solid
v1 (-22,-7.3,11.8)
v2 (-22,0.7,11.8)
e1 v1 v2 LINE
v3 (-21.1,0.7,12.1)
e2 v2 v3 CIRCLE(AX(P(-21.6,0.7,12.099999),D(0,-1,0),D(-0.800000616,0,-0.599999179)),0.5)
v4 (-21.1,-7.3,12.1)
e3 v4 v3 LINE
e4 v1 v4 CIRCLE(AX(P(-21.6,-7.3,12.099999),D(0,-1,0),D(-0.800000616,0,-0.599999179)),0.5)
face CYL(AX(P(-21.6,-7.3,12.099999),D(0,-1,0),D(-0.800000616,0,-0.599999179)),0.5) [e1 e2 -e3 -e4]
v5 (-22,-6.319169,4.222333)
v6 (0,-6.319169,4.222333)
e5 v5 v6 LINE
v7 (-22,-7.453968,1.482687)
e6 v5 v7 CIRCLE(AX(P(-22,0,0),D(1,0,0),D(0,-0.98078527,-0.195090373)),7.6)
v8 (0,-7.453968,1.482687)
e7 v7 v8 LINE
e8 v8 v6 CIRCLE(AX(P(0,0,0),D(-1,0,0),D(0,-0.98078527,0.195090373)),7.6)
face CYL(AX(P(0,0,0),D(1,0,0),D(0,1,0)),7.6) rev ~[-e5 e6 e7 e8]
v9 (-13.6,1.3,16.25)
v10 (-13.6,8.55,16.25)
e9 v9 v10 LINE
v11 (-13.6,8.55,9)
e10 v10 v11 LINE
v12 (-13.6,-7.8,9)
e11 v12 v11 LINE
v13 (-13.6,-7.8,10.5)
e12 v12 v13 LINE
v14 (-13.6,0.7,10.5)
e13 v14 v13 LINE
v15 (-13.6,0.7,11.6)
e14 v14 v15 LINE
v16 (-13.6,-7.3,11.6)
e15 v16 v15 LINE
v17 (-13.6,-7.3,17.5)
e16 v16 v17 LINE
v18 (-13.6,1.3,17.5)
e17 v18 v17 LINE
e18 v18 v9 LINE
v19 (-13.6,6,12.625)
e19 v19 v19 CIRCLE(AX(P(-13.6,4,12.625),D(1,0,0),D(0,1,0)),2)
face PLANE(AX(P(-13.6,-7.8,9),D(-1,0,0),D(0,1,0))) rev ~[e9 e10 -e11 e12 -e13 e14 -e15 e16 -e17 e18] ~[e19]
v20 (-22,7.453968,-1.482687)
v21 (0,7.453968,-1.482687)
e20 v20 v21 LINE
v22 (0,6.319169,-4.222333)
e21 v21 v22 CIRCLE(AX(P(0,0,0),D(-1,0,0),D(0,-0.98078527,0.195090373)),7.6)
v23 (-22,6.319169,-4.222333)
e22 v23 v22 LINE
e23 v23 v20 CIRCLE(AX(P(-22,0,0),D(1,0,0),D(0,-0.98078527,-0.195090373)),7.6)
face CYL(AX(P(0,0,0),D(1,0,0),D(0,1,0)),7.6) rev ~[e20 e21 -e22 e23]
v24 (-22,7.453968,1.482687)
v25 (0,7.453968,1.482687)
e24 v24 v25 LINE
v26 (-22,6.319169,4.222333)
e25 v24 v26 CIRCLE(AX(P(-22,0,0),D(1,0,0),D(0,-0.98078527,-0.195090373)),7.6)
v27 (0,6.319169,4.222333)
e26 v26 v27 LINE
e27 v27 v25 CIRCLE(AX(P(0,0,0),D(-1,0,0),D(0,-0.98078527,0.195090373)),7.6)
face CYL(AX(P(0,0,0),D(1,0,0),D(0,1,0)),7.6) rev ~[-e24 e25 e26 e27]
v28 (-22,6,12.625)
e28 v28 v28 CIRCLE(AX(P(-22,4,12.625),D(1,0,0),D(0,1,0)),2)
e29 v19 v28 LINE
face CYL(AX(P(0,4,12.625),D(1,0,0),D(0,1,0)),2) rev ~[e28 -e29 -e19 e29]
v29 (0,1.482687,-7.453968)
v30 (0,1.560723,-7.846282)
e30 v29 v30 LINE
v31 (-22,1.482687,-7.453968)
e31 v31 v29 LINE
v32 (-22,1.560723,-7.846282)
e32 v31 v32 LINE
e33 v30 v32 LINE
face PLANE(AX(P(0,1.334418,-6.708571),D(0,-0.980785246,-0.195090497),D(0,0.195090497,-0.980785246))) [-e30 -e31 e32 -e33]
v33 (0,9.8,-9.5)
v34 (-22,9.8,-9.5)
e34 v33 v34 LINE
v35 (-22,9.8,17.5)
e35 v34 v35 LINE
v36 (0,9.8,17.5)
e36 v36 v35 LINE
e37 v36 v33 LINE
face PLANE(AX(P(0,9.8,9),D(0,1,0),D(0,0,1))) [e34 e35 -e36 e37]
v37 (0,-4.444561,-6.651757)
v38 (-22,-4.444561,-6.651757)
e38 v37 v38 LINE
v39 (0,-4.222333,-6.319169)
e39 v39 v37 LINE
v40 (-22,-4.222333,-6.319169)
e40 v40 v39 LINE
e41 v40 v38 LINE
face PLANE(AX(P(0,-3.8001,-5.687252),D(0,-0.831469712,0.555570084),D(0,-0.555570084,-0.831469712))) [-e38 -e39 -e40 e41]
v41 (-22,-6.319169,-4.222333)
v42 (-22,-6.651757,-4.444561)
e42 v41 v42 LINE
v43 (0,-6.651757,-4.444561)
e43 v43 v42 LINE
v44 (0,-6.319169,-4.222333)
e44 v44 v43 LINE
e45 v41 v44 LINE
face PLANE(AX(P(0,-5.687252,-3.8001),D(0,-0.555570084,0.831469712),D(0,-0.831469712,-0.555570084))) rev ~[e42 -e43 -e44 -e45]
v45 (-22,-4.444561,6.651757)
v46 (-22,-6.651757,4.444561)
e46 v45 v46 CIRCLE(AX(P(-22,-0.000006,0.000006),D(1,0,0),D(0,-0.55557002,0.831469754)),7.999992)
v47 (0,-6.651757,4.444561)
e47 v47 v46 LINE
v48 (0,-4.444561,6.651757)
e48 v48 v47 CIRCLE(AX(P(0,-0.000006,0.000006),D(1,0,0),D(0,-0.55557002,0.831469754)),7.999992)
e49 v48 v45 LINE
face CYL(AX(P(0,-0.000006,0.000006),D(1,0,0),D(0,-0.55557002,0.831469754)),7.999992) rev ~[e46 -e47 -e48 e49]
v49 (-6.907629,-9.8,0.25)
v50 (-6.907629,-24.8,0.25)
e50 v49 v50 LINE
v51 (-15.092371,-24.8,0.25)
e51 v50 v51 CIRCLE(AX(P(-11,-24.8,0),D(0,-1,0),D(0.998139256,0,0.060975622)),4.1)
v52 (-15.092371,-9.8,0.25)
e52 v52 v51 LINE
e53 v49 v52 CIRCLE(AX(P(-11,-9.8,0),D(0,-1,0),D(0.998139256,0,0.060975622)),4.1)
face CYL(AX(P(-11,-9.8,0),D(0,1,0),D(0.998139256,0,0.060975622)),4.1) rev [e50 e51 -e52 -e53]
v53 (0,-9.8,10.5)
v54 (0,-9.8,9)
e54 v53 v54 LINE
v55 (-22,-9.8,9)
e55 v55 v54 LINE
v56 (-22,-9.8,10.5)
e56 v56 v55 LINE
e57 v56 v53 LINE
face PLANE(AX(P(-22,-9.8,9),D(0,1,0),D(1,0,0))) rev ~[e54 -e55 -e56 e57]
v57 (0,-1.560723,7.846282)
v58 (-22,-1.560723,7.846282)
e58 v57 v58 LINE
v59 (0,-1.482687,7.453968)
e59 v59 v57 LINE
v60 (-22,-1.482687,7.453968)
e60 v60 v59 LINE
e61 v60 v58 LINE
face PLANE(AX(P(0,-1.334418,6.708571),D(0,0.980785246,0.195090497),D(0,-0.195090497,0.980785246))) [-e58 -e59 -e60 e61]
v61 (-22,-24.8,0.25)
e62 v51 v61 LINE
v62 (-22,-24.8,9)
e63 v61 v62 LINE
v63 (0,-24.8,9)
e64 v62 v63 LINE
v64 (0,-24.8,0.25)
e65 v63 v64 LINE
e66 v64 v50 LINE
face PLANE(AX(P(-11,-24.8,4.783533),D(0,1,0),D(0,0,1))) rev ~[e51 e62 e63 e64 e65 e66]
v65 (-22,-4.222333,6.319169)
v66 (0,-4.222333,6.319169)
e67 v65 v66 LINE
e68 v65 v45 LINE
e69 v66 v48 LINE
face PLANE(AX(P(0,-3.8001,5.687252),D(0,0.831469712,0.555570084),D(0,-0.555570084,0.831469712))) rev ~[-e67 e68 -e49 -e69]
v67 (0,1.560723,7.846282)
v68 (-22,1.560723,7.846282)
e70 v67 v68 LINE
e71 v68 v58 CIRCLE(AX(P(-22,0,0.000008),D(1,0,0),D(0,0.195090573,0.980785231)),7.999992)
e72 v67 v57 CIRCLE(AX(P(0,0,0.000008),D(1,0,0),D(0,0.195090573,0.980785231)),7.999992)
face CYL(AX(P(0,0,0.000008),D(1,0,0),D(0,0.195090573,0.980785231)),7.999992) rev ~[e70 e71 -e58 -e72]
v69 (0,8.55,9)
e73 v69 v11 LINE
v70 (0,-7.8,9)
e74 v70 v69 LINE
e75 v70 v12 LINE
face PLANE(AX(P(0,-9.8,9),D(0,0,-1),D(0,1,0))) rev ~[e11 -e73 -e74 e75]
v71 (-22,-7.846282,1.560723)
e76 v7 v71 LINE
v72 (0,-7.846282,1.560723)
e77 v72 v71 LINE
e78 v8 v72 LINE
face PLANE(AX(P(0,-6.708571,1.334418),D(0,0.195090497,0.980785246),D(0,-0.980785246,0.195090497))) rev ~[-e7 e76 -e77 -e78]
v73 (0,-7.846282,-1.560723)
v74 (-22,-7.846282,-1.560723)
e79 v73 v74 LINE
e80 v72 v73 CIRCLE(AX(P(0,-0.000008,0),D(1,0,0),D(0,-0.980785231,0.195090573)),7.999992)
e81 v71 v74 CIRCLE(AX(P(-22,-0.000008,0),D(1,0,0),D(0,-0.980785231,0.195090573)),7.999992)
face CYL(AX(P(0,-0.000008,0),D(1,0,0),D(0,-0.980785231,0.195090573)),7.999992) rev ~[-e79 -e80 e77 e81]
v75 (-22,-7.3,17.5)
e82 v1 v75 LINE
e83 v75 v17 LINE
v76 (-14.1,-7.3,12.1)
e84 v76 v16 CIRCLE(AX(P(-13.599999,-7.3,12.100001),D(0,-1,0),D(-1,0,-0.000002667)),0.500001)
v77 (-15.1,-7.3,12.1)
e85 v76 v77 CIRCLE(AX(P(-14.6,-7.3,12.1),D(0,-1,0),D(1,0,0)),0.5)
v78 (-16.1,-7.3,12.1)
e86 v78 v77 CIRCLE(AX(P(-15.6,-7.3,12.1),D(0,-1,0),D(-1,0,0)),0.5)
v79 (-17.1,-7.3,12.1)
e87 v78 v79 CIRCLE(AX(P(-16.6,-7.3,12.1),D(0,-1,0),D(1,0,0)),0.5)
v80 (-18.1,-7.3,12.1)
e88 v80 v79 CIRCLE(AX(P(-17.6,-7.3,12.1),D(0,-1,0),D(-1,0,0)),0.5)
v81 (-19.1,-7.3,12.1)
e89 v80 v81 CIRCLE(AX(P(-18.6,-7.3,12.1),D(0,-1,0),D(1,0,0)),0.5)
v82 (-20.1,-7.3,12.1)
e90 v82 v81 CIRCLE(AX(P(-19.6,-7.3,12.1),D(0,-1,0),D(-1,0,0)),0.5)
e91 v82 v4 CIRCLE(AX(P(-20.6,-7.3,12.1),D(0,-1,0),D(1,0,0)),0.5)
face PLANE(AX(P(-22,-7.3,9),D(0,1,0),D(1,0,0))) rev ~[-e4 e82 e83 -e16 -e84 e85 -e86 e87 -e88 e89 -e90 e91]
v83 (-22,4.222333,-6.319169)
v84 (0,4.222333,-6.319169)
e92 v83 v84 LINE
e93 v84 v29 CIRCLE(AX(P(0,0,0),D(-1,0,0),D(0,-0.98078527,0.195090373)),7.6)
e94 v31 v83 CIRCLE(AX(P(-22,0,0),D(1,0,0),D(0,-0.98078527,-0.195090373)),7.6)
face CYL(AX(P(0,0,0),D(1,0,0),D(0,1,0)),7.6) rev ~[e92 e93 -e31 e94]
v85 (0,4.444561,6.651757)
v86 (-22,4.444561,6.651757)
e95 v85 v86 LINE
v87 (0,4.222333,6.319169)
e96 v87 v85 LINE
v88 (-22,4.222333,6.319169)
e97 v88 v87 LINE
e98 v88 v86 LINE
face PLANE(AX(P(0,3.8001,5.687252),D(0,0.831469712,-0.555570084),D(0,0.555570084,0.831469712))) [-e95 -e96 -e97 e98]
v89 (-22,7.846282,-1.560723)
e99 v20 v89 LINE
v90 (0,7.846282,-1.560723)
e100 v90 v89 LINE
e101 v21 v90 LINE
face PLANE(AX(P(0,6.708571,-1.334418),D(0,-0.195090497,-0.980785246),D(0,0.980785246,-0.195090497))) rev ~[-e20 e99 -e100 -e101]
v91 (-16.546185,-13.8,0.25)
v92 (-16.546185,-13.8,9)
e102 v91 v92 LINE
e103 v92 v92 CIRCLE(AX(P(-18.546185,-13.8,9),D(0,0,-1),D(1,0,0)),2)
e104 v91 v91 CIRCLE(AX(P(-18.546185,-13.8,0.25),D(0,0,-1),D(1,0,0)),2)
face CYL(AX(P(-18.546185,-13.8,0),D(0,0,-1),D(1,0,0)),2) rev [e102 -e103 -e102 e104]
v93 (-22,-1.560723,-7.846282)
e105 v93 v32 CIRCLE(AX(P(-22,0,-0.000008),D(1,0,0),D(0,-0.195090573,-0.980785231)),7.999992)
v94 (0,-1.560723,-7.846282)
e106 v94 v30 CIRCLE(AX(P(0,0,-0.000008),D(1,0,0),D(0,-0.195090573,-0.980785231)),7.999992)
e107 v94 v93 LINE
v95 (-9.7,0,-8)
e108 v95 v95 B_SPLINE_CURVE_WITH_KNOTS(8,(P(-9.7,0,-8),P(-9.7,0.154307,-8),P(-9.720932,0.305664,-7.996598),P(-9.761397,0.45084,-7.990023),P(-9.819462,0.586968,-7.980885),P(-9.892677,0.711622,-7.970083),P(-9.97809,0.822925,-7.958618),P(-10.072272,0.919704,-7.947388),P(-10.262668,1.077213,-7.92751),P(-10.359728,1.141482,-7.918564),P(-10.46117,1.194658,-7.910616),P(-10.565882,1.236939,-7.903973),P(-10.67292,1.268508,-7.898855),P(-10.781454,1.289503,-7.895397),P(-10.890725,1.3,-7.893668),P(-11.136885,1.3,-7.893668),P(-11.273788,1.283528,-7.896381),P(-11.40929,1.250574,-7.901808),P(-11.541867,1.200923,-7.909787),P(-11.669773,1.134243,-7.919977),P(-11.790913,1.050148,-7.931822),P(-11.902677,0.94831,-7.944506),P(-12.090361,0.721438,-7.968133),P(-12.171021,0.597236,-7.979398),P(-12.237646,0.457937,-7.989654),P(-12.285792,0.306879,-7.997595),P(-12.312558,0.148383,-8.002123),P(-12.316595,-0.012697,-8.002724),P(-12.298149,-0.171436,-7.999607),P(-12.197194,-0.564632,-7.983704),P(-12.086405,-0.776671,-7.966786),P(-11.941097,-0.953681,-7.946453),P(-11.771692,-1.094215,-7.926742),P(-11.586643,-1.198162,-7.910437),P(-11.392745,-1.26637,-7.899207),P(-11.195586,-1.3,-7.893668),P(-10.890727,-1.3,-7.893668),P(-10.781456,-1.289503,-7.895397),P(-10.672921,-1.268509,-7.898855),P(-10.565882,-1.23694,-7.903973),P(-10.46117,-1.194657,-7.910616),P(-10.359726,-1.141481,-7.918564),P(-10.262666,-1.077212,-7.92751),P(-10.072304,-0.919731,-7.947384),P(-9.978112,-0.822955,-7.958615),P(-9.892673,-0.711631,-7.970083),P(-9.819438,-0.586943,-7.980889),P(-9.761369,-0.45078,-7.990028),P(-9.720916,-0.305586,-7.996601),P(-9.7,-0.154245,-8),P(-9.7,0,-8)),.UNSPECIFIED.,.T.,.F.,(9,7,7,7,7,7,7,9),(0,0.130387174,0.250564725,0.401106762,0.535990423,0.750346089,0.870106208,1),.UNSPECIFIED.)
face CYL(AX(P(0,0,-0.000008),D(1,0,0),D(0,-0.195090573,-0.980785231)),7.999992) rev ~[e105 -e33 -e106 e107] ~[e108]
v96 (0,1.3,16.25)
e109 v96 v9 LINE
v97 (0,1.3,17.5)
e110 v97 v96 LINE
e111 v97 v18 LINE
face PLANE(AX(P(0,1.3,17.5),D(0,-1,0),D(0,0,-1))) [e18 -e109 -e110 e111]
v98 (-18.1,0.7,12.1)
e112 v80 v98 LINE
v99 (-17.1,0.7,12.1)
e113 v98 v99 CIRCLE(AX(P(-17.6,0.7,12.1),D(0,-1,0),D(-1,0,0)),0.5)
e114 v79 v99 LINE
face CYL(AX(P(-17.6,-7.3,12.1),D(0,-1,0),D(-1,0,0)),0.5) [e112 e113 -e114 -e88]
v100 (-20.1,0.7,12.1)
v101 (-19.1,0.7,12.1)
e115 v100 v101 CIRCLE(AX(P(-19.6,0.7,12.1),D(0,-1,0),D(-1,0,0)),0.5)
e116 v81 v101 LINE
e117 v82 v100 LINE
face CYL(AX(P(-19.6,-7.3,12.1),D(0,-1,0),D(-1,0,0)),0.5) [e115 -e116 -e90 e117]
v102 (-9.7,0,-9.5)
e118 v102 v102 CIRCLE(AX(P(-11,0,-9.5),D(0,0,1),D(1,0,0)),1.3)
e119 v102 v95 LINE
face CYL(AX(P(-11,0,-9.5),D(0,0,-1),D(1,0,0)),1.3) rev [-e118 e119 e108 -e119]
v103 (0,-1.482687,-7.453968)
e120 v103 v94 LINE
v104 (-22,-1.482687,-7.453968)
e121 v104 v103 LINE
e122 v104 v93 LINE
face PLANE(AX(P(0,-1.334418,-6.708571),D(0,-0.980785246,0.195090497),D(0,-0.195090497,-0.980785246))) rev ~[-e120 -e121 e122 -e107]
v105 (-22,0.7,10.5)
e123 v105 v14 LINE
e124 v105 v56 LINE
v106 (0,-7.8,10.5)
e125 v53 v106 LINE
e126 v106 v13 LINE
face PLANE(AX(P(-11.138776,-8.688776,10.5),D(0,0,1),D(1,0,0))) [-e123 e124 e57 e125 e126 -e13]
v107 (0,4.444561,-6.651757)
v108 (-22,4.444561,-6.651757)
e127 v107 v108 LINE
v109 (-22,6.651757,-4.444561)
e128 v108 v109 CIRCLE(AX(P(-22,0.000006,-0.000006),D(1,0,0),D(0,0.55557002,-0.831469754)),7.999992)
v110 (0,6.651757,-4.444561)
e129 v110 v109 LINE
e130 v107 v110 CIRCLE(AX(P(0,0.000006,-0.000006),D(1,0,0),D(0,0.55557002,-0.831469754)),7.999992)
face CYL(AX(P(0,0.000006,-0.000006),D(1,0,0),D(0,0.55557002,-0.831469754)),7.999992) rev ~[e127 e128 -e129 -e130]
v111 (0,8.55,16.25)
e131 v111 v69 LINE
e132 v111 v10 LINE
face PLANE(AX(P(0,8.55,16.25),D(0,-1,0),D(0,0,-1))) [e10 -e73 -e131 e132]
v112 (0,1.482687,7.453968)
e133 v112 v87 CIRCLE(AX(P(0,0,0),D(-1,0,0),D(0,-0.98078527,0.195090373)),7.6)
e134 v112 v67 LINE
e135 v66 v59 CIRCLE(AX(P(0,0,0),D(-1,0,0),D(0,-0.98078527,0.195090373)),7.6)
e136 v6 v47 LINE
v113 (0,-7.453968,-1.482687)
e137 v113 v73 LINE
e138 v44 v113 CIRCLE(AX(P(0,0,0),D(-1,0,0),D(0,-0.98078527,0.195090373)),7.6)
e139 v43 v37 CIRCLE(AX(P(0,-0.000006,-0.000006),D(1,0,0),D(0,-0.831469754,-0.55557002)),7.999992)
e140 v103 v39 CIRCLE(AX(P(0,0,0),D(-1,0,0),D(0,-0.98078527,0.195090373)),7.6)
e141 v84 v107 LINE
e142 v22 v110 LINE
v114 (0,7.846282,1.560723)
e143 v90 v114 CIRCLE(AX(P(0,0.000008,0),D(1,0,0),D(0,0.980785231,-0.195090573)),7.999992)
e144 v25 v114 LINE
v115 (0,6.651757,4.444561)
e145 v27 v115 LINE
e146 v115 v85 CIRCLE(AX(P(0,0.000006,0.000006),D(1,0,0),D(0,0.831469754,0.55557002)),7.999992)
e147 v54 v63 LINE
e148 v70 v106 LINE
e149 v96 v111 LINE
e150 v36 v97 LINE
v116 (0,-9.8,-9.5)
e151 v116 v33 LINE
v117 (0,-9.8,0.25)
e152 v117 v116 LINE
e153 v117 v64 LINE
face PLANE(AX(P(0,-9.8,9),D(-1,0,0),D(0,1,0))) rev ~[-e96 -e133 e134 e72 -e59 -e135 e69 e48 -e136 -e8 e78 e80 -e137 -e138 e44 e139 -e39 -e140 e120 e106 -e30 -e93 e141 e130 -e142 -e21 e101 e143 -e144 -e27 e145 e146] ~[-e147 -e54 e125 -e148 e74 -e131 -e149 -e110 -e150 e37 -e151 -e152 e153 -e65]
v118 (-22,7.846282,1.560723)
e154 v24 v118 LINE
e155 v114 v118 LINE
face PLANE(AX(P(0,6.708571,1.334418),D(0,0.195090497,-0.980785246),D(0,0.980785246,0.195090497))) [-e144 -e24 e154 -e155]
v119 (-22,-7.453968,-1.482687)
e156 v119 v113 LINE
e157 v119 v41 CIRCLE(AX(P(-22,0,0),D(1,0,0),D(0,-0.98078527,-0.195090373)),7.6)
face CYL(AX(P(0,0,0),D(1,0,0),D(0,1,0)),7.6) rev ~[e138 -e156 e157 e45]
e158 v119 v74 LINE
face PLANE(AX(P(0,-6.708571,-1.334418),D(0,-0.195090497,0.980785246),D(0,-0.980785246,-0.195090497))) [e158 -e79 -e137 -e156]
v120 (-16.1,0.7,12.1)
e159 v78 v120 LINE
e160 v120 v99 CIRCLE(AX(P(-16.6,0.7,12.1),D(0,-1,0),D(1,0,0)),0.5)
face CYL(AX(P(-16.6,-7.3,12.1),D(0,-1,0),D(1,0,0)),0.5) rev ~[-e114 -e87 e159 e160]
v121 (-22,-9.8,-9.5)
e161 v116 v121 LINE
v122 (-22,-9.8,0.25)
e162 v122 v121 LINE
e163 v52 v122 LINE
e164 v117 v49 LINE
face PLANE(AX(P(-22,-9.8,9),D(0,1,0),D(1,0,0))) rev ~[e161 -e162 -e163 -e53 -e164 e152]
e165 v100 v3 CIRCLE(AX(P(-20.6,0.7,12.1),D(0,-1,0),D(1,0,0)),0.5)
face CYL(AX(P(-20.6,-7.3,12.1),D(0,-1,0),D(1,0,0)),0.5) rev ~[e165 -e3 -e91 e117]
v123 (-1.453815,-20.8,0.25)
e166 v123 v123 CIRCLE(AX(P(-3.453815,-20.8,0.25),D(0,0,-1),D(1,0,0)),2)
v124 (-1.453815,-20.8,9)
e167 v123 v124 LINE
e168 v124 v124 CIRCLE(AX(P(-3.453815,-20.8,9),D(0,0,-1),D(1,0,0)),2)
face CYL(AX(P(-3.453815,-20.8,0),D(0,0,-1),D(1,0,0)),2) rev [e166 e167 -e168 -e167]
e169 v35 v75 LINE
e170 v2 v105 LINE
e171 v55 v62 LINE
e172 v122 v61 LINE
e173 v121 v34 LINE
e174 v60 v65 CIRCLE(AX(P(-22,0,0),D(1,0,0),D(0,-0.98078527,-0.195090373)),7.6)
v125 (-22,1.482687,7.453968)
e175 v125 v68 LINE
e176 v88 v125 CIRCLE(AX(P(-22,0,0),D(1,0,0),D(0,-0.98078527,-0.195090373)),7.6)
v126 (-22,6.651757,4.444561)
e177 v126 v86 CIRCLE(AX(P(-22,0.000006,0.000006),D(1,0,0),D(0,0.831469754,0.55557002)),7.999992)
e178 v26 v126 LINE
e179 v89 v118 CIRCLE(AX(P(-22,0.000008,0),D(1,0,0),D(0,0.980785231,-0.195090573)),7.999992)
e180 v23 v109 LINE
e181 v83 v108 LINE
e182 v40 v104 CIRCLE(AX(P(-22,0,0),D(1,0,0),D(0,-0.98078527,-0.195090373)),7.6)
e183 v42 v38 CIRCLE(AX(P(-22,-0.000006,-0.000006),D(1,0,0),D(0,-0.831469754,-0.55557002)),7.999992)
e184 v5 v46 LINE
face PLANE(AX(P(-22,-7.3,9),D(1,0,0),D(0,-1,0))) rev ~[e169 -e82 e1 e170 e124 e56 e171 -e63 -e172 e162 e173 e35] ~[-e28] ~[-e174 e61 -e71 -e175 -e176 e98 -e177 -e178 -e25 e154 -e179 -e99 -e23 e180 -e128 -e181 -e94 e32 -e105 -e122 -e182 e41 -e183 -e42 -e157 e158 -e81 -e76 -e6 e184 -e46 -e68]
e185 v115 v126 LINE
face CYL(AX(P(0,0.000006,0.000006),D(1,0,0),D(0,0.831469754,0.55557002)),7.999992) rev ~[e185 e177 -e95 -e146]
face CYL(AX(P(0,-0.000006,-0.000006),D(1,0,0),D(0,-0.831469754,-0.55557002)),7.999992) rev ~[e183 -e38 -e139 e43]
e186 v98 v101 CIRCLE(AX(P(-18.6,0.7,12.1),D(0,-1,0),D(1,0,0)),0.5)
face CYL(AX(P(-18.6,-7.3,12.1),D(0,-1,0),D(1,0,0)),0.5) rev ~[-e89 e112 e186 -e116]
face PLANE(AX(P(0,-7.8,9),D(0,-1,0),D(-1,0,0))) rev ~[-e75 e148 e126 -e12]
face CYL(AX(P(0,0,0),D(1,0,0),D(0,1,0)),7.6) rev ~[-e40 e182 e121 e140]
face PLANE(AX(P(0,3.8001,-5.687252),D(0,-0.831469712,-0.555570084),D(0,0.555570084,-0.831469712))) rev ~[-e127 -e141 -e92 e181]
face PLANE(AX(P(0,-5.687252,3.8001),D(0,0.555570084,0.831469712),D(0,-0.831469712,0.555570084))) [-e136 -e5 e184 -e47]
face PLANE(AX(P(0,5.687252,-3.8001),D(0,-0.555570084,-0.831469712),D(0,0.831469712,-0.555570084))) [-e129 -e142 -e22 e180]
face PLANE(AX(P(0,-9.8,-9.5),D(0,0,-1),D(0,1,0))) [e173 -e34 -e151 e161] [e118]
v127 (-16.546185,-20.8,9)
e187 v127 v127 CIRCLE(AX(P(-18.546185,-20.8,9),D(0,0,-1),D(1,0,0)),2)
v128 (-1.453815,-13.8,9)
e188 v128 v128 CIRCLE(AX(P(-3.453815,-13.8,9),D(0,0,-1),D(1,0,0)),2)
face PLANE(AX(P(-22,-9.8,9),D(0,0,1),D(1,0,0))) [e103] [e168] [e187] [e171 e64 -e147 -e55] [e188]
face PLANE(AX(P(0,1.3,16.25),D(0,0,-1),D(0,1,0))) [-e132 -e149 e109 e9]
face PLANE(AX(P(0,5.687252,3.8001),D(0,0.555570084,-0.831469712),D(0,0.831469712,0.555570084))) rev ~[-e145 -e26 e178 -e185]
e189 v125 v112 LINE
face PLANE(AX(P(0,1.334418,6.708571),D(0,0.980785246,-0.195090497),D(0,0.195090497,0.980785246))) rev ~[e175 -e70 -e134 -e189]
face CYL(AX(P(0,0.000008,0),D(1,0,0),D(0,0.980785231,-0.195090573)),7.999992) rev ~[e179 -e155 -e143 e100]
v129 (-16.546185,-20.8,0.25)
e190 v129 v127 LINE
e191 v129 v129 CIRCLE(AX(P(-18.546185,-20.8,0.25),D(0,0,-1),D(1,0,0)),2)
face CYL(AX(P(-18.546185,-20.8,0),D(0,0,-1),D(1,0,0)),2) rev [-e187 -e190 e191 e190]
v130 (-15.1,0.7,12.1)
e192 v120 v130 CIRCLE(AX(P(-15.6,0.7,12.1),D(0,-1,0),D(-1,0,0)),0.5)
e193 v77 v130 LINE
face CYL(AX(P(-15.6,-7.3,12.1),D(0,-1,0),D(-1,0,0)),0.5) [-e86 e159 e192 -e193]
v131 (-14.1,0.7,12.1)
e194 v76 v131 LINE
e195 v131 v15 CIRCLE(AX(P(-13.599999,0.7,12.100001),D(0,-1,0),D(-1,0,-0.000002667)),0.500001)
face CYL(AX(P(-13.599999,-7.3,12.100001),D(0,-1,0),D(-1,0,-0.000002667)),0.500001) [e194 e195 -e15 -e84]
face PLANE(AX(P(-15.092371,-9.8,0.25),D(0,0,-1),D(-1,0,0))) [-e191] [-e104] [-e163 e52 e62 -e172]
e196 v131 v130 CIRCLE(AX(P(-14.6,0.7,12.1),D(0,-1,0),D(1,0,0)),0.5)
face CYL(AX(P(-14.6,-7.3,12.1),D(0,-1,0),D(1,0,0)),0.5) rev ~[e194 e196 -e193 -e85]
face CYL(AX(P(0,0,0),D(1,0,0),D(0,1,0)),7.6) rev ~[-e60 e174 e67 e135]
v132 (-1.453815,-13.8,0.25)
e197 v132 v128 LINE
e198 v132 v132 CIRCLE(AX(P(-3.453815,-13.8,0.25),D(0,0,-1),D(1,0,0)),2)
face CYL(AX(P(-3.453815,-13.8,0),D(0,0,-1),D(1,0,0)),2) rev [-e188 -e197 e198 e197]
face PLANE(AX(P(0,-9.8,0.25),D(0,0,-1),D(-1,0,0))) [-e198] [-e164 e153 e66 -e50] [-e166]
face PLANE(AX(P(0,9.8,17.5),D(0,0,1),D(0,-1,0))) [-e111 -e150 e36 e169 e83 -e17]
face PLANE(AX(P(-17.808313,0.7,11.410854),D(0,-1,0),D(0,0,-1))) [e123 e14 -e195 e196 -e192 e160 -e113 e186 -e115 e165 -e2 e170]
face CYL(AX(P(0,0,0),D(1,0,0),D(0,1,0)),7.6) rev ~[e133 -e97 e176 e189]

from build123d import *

# Parameters (mm, degrees)
PAD017_DEPTH       = 15
SKETCH040_R        = 2
POCKET019_DEPTH    = 9.001
SKETCH_W           = 19.6
SKETCH_H           = 18.5
SKETCH_R           = 7.6
PAD_DEPTH          = 22
SKETCH002_W        = 17.1
SKETCH002_H        = 8.4
PAD001_DEPTH       = 8.5
POCKET_DEPTH       = 8
PAD002_DEPTH       = 13.6
SKETCH005_R        = 2
POCKET001_DEPTH    = 22.001
POCKET002_DEPTH    = 101.929968
POLARPATTERN_COUNT = 8
PAD004_DEPTH       = 1.5
SKETCH041_R        = 1.3
POCKET020_DEPTH    = 5


with BuildPart() as body023:
    # Sketch039 (on DatumPlane) → Pad017 (new body)
    with BuildSketch(Plane(origin=(0, -9.8, 0), x_dir=(0, 0, -1), z_dir=(0, -1, 0))):
        with BuildLine():
            Line((-9, 0), (-0.25, 0))
            Line((-0.25, 0), (-0.25, -6.907629))
            ThreePointArc((-0.25, -6.907629), (-4.1, -11), (-0.25, -15.092371))
            Line((-0.25, -15.092371), (-0.25, -22))
            Line((-0.25, -22), (-9, -22))
            Line((-9, -22), (-9, 0))
        make_face()
    extrude(amount=PAD017_DEPTH)

    # Sketch040 → Pocket019 (cut, through all)
    with BuildSketch(Plane.XY):
        with Locations((-18.546185, -20.8)):
            Circle(SKETCH040_R)
        with Locations((-18.546185, -13.8)):
            Circle(SKETCH040_R)
        with Locations((-3.453815, -13.8)):
            Circle(SKETCH040_R)
        with Locations((-3.453815, -20.8)):
            Circle(SKETCH040_R)
    extrude(amount=POCKET019_DEPTH, mode=Mode.SUBTRACT)


with BuildPart() as printable_axisholder_x_fusion:
    # Sketch → Pad (new body)
    with BuildSketch(Plane.YZ):
        with Locations((0, -0.25)):
            Rectangle(SKETCH_W, SKETCH_H)
        Circle(SKETCH_R, mode=Mode.SUBTRACT)
    extrude(amount=-PAD_DEPTH)

    # Sketch002 → Pad001 (join)
    with BuildSketch(Plane(origin=(0, 0, 9), x_dir=(0, -1, 0), z_dir=(0, 0, 1))):
        with Locations((-1.25, -17.8)):
            Rectangle(SKETCH002_W, SKETCH002_H)
    extrude(amount=PAD001_DEPTH)

    # Sketch003 → Pocket (cut)
    with BuildSketch(Plane(origin=(0, -7.3, 0), x_dir=(0, 0, -1), z_dir=(0, -1, 0))):
        with BuildLine():
            Line((-10.5, -22), (-10.5, -13.6))
            Line((-10.5, -13.6), (-11.6, -13.6))
            ThreePointArc((-12.1, -14.1), (-11.746447, -13.953553), (-11.6, -13.6))
            ThreePointArc((-12.1, -14.1), (-12.6, -14.6), (-12.1, -15.1))
            ThreePointArc((-12.1, -16.1), (-11.6, -15.6), (-12.1, -15.1))
            ThreePointArc((-12.1, -16.1), (-12.6, -16.6), (-12.1, -17.1))
            ThreePointArc((-12.1, -18.1), (-11.6, -17.6), (-12.1, -17.1))
            ThreePointArc((-12.1, -18.1), (-12.6, -18.6), (-12.1, -19.1))
            ThreePointArc((-12.1, -20.1), (-11.6, -19.6), (-12.1, -19.1))
            ThreePointArc((-12.1, -20.1), (-12.6, -20.6), (-12.1, -21.1))
            ThreePointArc((-11.8, -22), (-11.625658, -21.441886), (-12.1, -21.1))
            Line((-11.8, -22), (-10.5, -22))
        make_face()
    extrude(amount=-POCKET_DEPTH, mode=Mode.SUBTRACT)

    # Sketch004 (on DatumPlane) → Pad002 (join)
    with BuildSketch(Plane.YZ):
        Polygon((9.8, 17.5), (1.3, 17.5), (1.3, 16.25), (8.55, 16.25), (8.55, 9), (9.8, 9), align=None)
    extrude(amount=-PAD002_DEPTH)

    # Sketch005 (on DatumPlane) → Pocket001 (cut, through all)
    with BuildSketch(Plane.YZ):
        with Locations((4, 12.625)):
            Circle(SKETCH005_R)
    extrude(amount=-POCKET001_DEPTH, mode=Mode.SUBTRACT)

    # Sketch006 (on DatumPlane) → Pocket002 (cut, through all)
    with BuildSketch(Plane.YZ):
        with BuildLine():
            ThreePointArc((-7.846282, 1.560723), (-8, 0), (-7.846282, -1.560723))
            Line((-6.708571, -1.334418), (-7.846282, -1.560723))
            ThreePointArc((-6.708571, 1.334418), (-6.84, 0), (-6.708571, -1.334418))
            Line((-6.708571, 1.334418), (-7.846282, 1.560723))
        make_face()
    pocket002 = extrude(amount=-POCKET002_DEPTH, mode=Mode.SUBTRACT)

    # PolarPattern: Pocket002 ×8 about axis
    polarpattern_axis = Axis((0, 0, 0), (1, 0, 0))
    for i in range(1, POLARPATTERN_COUNT):
        add(pocket002.rotate(polarpattern_axis, i * 360 / POLARPATTERN_COUNT), mode=Mode.SUBTRACT)

    # Sketch010 (on DatumPlane) → Pad004 (join)
    with BuildSketch(Plane.XY.offset(9)):
        Polygon((0, -7.8), (-13.6, -7.8), (-13.6, -7.3), (-22, -7.3), (-22, -9.8), (0, -9.8), align=None)
    extrude(amount=PAD004_DEPTH)

    # Sketch041 → Pocket020 (cut)
    with BuildSketch(Plane.XY.offset(-9.5)):
        with Locations((-11, 0)):
            Circle(SKETCH041_R)
    extrude(amount=POCKET020_DEPTH, mode=Mode.SUBTRACT)

    # Fusion: union Body023
    add(body023.part)


solid = printable_axisholder_x_fusion.part
